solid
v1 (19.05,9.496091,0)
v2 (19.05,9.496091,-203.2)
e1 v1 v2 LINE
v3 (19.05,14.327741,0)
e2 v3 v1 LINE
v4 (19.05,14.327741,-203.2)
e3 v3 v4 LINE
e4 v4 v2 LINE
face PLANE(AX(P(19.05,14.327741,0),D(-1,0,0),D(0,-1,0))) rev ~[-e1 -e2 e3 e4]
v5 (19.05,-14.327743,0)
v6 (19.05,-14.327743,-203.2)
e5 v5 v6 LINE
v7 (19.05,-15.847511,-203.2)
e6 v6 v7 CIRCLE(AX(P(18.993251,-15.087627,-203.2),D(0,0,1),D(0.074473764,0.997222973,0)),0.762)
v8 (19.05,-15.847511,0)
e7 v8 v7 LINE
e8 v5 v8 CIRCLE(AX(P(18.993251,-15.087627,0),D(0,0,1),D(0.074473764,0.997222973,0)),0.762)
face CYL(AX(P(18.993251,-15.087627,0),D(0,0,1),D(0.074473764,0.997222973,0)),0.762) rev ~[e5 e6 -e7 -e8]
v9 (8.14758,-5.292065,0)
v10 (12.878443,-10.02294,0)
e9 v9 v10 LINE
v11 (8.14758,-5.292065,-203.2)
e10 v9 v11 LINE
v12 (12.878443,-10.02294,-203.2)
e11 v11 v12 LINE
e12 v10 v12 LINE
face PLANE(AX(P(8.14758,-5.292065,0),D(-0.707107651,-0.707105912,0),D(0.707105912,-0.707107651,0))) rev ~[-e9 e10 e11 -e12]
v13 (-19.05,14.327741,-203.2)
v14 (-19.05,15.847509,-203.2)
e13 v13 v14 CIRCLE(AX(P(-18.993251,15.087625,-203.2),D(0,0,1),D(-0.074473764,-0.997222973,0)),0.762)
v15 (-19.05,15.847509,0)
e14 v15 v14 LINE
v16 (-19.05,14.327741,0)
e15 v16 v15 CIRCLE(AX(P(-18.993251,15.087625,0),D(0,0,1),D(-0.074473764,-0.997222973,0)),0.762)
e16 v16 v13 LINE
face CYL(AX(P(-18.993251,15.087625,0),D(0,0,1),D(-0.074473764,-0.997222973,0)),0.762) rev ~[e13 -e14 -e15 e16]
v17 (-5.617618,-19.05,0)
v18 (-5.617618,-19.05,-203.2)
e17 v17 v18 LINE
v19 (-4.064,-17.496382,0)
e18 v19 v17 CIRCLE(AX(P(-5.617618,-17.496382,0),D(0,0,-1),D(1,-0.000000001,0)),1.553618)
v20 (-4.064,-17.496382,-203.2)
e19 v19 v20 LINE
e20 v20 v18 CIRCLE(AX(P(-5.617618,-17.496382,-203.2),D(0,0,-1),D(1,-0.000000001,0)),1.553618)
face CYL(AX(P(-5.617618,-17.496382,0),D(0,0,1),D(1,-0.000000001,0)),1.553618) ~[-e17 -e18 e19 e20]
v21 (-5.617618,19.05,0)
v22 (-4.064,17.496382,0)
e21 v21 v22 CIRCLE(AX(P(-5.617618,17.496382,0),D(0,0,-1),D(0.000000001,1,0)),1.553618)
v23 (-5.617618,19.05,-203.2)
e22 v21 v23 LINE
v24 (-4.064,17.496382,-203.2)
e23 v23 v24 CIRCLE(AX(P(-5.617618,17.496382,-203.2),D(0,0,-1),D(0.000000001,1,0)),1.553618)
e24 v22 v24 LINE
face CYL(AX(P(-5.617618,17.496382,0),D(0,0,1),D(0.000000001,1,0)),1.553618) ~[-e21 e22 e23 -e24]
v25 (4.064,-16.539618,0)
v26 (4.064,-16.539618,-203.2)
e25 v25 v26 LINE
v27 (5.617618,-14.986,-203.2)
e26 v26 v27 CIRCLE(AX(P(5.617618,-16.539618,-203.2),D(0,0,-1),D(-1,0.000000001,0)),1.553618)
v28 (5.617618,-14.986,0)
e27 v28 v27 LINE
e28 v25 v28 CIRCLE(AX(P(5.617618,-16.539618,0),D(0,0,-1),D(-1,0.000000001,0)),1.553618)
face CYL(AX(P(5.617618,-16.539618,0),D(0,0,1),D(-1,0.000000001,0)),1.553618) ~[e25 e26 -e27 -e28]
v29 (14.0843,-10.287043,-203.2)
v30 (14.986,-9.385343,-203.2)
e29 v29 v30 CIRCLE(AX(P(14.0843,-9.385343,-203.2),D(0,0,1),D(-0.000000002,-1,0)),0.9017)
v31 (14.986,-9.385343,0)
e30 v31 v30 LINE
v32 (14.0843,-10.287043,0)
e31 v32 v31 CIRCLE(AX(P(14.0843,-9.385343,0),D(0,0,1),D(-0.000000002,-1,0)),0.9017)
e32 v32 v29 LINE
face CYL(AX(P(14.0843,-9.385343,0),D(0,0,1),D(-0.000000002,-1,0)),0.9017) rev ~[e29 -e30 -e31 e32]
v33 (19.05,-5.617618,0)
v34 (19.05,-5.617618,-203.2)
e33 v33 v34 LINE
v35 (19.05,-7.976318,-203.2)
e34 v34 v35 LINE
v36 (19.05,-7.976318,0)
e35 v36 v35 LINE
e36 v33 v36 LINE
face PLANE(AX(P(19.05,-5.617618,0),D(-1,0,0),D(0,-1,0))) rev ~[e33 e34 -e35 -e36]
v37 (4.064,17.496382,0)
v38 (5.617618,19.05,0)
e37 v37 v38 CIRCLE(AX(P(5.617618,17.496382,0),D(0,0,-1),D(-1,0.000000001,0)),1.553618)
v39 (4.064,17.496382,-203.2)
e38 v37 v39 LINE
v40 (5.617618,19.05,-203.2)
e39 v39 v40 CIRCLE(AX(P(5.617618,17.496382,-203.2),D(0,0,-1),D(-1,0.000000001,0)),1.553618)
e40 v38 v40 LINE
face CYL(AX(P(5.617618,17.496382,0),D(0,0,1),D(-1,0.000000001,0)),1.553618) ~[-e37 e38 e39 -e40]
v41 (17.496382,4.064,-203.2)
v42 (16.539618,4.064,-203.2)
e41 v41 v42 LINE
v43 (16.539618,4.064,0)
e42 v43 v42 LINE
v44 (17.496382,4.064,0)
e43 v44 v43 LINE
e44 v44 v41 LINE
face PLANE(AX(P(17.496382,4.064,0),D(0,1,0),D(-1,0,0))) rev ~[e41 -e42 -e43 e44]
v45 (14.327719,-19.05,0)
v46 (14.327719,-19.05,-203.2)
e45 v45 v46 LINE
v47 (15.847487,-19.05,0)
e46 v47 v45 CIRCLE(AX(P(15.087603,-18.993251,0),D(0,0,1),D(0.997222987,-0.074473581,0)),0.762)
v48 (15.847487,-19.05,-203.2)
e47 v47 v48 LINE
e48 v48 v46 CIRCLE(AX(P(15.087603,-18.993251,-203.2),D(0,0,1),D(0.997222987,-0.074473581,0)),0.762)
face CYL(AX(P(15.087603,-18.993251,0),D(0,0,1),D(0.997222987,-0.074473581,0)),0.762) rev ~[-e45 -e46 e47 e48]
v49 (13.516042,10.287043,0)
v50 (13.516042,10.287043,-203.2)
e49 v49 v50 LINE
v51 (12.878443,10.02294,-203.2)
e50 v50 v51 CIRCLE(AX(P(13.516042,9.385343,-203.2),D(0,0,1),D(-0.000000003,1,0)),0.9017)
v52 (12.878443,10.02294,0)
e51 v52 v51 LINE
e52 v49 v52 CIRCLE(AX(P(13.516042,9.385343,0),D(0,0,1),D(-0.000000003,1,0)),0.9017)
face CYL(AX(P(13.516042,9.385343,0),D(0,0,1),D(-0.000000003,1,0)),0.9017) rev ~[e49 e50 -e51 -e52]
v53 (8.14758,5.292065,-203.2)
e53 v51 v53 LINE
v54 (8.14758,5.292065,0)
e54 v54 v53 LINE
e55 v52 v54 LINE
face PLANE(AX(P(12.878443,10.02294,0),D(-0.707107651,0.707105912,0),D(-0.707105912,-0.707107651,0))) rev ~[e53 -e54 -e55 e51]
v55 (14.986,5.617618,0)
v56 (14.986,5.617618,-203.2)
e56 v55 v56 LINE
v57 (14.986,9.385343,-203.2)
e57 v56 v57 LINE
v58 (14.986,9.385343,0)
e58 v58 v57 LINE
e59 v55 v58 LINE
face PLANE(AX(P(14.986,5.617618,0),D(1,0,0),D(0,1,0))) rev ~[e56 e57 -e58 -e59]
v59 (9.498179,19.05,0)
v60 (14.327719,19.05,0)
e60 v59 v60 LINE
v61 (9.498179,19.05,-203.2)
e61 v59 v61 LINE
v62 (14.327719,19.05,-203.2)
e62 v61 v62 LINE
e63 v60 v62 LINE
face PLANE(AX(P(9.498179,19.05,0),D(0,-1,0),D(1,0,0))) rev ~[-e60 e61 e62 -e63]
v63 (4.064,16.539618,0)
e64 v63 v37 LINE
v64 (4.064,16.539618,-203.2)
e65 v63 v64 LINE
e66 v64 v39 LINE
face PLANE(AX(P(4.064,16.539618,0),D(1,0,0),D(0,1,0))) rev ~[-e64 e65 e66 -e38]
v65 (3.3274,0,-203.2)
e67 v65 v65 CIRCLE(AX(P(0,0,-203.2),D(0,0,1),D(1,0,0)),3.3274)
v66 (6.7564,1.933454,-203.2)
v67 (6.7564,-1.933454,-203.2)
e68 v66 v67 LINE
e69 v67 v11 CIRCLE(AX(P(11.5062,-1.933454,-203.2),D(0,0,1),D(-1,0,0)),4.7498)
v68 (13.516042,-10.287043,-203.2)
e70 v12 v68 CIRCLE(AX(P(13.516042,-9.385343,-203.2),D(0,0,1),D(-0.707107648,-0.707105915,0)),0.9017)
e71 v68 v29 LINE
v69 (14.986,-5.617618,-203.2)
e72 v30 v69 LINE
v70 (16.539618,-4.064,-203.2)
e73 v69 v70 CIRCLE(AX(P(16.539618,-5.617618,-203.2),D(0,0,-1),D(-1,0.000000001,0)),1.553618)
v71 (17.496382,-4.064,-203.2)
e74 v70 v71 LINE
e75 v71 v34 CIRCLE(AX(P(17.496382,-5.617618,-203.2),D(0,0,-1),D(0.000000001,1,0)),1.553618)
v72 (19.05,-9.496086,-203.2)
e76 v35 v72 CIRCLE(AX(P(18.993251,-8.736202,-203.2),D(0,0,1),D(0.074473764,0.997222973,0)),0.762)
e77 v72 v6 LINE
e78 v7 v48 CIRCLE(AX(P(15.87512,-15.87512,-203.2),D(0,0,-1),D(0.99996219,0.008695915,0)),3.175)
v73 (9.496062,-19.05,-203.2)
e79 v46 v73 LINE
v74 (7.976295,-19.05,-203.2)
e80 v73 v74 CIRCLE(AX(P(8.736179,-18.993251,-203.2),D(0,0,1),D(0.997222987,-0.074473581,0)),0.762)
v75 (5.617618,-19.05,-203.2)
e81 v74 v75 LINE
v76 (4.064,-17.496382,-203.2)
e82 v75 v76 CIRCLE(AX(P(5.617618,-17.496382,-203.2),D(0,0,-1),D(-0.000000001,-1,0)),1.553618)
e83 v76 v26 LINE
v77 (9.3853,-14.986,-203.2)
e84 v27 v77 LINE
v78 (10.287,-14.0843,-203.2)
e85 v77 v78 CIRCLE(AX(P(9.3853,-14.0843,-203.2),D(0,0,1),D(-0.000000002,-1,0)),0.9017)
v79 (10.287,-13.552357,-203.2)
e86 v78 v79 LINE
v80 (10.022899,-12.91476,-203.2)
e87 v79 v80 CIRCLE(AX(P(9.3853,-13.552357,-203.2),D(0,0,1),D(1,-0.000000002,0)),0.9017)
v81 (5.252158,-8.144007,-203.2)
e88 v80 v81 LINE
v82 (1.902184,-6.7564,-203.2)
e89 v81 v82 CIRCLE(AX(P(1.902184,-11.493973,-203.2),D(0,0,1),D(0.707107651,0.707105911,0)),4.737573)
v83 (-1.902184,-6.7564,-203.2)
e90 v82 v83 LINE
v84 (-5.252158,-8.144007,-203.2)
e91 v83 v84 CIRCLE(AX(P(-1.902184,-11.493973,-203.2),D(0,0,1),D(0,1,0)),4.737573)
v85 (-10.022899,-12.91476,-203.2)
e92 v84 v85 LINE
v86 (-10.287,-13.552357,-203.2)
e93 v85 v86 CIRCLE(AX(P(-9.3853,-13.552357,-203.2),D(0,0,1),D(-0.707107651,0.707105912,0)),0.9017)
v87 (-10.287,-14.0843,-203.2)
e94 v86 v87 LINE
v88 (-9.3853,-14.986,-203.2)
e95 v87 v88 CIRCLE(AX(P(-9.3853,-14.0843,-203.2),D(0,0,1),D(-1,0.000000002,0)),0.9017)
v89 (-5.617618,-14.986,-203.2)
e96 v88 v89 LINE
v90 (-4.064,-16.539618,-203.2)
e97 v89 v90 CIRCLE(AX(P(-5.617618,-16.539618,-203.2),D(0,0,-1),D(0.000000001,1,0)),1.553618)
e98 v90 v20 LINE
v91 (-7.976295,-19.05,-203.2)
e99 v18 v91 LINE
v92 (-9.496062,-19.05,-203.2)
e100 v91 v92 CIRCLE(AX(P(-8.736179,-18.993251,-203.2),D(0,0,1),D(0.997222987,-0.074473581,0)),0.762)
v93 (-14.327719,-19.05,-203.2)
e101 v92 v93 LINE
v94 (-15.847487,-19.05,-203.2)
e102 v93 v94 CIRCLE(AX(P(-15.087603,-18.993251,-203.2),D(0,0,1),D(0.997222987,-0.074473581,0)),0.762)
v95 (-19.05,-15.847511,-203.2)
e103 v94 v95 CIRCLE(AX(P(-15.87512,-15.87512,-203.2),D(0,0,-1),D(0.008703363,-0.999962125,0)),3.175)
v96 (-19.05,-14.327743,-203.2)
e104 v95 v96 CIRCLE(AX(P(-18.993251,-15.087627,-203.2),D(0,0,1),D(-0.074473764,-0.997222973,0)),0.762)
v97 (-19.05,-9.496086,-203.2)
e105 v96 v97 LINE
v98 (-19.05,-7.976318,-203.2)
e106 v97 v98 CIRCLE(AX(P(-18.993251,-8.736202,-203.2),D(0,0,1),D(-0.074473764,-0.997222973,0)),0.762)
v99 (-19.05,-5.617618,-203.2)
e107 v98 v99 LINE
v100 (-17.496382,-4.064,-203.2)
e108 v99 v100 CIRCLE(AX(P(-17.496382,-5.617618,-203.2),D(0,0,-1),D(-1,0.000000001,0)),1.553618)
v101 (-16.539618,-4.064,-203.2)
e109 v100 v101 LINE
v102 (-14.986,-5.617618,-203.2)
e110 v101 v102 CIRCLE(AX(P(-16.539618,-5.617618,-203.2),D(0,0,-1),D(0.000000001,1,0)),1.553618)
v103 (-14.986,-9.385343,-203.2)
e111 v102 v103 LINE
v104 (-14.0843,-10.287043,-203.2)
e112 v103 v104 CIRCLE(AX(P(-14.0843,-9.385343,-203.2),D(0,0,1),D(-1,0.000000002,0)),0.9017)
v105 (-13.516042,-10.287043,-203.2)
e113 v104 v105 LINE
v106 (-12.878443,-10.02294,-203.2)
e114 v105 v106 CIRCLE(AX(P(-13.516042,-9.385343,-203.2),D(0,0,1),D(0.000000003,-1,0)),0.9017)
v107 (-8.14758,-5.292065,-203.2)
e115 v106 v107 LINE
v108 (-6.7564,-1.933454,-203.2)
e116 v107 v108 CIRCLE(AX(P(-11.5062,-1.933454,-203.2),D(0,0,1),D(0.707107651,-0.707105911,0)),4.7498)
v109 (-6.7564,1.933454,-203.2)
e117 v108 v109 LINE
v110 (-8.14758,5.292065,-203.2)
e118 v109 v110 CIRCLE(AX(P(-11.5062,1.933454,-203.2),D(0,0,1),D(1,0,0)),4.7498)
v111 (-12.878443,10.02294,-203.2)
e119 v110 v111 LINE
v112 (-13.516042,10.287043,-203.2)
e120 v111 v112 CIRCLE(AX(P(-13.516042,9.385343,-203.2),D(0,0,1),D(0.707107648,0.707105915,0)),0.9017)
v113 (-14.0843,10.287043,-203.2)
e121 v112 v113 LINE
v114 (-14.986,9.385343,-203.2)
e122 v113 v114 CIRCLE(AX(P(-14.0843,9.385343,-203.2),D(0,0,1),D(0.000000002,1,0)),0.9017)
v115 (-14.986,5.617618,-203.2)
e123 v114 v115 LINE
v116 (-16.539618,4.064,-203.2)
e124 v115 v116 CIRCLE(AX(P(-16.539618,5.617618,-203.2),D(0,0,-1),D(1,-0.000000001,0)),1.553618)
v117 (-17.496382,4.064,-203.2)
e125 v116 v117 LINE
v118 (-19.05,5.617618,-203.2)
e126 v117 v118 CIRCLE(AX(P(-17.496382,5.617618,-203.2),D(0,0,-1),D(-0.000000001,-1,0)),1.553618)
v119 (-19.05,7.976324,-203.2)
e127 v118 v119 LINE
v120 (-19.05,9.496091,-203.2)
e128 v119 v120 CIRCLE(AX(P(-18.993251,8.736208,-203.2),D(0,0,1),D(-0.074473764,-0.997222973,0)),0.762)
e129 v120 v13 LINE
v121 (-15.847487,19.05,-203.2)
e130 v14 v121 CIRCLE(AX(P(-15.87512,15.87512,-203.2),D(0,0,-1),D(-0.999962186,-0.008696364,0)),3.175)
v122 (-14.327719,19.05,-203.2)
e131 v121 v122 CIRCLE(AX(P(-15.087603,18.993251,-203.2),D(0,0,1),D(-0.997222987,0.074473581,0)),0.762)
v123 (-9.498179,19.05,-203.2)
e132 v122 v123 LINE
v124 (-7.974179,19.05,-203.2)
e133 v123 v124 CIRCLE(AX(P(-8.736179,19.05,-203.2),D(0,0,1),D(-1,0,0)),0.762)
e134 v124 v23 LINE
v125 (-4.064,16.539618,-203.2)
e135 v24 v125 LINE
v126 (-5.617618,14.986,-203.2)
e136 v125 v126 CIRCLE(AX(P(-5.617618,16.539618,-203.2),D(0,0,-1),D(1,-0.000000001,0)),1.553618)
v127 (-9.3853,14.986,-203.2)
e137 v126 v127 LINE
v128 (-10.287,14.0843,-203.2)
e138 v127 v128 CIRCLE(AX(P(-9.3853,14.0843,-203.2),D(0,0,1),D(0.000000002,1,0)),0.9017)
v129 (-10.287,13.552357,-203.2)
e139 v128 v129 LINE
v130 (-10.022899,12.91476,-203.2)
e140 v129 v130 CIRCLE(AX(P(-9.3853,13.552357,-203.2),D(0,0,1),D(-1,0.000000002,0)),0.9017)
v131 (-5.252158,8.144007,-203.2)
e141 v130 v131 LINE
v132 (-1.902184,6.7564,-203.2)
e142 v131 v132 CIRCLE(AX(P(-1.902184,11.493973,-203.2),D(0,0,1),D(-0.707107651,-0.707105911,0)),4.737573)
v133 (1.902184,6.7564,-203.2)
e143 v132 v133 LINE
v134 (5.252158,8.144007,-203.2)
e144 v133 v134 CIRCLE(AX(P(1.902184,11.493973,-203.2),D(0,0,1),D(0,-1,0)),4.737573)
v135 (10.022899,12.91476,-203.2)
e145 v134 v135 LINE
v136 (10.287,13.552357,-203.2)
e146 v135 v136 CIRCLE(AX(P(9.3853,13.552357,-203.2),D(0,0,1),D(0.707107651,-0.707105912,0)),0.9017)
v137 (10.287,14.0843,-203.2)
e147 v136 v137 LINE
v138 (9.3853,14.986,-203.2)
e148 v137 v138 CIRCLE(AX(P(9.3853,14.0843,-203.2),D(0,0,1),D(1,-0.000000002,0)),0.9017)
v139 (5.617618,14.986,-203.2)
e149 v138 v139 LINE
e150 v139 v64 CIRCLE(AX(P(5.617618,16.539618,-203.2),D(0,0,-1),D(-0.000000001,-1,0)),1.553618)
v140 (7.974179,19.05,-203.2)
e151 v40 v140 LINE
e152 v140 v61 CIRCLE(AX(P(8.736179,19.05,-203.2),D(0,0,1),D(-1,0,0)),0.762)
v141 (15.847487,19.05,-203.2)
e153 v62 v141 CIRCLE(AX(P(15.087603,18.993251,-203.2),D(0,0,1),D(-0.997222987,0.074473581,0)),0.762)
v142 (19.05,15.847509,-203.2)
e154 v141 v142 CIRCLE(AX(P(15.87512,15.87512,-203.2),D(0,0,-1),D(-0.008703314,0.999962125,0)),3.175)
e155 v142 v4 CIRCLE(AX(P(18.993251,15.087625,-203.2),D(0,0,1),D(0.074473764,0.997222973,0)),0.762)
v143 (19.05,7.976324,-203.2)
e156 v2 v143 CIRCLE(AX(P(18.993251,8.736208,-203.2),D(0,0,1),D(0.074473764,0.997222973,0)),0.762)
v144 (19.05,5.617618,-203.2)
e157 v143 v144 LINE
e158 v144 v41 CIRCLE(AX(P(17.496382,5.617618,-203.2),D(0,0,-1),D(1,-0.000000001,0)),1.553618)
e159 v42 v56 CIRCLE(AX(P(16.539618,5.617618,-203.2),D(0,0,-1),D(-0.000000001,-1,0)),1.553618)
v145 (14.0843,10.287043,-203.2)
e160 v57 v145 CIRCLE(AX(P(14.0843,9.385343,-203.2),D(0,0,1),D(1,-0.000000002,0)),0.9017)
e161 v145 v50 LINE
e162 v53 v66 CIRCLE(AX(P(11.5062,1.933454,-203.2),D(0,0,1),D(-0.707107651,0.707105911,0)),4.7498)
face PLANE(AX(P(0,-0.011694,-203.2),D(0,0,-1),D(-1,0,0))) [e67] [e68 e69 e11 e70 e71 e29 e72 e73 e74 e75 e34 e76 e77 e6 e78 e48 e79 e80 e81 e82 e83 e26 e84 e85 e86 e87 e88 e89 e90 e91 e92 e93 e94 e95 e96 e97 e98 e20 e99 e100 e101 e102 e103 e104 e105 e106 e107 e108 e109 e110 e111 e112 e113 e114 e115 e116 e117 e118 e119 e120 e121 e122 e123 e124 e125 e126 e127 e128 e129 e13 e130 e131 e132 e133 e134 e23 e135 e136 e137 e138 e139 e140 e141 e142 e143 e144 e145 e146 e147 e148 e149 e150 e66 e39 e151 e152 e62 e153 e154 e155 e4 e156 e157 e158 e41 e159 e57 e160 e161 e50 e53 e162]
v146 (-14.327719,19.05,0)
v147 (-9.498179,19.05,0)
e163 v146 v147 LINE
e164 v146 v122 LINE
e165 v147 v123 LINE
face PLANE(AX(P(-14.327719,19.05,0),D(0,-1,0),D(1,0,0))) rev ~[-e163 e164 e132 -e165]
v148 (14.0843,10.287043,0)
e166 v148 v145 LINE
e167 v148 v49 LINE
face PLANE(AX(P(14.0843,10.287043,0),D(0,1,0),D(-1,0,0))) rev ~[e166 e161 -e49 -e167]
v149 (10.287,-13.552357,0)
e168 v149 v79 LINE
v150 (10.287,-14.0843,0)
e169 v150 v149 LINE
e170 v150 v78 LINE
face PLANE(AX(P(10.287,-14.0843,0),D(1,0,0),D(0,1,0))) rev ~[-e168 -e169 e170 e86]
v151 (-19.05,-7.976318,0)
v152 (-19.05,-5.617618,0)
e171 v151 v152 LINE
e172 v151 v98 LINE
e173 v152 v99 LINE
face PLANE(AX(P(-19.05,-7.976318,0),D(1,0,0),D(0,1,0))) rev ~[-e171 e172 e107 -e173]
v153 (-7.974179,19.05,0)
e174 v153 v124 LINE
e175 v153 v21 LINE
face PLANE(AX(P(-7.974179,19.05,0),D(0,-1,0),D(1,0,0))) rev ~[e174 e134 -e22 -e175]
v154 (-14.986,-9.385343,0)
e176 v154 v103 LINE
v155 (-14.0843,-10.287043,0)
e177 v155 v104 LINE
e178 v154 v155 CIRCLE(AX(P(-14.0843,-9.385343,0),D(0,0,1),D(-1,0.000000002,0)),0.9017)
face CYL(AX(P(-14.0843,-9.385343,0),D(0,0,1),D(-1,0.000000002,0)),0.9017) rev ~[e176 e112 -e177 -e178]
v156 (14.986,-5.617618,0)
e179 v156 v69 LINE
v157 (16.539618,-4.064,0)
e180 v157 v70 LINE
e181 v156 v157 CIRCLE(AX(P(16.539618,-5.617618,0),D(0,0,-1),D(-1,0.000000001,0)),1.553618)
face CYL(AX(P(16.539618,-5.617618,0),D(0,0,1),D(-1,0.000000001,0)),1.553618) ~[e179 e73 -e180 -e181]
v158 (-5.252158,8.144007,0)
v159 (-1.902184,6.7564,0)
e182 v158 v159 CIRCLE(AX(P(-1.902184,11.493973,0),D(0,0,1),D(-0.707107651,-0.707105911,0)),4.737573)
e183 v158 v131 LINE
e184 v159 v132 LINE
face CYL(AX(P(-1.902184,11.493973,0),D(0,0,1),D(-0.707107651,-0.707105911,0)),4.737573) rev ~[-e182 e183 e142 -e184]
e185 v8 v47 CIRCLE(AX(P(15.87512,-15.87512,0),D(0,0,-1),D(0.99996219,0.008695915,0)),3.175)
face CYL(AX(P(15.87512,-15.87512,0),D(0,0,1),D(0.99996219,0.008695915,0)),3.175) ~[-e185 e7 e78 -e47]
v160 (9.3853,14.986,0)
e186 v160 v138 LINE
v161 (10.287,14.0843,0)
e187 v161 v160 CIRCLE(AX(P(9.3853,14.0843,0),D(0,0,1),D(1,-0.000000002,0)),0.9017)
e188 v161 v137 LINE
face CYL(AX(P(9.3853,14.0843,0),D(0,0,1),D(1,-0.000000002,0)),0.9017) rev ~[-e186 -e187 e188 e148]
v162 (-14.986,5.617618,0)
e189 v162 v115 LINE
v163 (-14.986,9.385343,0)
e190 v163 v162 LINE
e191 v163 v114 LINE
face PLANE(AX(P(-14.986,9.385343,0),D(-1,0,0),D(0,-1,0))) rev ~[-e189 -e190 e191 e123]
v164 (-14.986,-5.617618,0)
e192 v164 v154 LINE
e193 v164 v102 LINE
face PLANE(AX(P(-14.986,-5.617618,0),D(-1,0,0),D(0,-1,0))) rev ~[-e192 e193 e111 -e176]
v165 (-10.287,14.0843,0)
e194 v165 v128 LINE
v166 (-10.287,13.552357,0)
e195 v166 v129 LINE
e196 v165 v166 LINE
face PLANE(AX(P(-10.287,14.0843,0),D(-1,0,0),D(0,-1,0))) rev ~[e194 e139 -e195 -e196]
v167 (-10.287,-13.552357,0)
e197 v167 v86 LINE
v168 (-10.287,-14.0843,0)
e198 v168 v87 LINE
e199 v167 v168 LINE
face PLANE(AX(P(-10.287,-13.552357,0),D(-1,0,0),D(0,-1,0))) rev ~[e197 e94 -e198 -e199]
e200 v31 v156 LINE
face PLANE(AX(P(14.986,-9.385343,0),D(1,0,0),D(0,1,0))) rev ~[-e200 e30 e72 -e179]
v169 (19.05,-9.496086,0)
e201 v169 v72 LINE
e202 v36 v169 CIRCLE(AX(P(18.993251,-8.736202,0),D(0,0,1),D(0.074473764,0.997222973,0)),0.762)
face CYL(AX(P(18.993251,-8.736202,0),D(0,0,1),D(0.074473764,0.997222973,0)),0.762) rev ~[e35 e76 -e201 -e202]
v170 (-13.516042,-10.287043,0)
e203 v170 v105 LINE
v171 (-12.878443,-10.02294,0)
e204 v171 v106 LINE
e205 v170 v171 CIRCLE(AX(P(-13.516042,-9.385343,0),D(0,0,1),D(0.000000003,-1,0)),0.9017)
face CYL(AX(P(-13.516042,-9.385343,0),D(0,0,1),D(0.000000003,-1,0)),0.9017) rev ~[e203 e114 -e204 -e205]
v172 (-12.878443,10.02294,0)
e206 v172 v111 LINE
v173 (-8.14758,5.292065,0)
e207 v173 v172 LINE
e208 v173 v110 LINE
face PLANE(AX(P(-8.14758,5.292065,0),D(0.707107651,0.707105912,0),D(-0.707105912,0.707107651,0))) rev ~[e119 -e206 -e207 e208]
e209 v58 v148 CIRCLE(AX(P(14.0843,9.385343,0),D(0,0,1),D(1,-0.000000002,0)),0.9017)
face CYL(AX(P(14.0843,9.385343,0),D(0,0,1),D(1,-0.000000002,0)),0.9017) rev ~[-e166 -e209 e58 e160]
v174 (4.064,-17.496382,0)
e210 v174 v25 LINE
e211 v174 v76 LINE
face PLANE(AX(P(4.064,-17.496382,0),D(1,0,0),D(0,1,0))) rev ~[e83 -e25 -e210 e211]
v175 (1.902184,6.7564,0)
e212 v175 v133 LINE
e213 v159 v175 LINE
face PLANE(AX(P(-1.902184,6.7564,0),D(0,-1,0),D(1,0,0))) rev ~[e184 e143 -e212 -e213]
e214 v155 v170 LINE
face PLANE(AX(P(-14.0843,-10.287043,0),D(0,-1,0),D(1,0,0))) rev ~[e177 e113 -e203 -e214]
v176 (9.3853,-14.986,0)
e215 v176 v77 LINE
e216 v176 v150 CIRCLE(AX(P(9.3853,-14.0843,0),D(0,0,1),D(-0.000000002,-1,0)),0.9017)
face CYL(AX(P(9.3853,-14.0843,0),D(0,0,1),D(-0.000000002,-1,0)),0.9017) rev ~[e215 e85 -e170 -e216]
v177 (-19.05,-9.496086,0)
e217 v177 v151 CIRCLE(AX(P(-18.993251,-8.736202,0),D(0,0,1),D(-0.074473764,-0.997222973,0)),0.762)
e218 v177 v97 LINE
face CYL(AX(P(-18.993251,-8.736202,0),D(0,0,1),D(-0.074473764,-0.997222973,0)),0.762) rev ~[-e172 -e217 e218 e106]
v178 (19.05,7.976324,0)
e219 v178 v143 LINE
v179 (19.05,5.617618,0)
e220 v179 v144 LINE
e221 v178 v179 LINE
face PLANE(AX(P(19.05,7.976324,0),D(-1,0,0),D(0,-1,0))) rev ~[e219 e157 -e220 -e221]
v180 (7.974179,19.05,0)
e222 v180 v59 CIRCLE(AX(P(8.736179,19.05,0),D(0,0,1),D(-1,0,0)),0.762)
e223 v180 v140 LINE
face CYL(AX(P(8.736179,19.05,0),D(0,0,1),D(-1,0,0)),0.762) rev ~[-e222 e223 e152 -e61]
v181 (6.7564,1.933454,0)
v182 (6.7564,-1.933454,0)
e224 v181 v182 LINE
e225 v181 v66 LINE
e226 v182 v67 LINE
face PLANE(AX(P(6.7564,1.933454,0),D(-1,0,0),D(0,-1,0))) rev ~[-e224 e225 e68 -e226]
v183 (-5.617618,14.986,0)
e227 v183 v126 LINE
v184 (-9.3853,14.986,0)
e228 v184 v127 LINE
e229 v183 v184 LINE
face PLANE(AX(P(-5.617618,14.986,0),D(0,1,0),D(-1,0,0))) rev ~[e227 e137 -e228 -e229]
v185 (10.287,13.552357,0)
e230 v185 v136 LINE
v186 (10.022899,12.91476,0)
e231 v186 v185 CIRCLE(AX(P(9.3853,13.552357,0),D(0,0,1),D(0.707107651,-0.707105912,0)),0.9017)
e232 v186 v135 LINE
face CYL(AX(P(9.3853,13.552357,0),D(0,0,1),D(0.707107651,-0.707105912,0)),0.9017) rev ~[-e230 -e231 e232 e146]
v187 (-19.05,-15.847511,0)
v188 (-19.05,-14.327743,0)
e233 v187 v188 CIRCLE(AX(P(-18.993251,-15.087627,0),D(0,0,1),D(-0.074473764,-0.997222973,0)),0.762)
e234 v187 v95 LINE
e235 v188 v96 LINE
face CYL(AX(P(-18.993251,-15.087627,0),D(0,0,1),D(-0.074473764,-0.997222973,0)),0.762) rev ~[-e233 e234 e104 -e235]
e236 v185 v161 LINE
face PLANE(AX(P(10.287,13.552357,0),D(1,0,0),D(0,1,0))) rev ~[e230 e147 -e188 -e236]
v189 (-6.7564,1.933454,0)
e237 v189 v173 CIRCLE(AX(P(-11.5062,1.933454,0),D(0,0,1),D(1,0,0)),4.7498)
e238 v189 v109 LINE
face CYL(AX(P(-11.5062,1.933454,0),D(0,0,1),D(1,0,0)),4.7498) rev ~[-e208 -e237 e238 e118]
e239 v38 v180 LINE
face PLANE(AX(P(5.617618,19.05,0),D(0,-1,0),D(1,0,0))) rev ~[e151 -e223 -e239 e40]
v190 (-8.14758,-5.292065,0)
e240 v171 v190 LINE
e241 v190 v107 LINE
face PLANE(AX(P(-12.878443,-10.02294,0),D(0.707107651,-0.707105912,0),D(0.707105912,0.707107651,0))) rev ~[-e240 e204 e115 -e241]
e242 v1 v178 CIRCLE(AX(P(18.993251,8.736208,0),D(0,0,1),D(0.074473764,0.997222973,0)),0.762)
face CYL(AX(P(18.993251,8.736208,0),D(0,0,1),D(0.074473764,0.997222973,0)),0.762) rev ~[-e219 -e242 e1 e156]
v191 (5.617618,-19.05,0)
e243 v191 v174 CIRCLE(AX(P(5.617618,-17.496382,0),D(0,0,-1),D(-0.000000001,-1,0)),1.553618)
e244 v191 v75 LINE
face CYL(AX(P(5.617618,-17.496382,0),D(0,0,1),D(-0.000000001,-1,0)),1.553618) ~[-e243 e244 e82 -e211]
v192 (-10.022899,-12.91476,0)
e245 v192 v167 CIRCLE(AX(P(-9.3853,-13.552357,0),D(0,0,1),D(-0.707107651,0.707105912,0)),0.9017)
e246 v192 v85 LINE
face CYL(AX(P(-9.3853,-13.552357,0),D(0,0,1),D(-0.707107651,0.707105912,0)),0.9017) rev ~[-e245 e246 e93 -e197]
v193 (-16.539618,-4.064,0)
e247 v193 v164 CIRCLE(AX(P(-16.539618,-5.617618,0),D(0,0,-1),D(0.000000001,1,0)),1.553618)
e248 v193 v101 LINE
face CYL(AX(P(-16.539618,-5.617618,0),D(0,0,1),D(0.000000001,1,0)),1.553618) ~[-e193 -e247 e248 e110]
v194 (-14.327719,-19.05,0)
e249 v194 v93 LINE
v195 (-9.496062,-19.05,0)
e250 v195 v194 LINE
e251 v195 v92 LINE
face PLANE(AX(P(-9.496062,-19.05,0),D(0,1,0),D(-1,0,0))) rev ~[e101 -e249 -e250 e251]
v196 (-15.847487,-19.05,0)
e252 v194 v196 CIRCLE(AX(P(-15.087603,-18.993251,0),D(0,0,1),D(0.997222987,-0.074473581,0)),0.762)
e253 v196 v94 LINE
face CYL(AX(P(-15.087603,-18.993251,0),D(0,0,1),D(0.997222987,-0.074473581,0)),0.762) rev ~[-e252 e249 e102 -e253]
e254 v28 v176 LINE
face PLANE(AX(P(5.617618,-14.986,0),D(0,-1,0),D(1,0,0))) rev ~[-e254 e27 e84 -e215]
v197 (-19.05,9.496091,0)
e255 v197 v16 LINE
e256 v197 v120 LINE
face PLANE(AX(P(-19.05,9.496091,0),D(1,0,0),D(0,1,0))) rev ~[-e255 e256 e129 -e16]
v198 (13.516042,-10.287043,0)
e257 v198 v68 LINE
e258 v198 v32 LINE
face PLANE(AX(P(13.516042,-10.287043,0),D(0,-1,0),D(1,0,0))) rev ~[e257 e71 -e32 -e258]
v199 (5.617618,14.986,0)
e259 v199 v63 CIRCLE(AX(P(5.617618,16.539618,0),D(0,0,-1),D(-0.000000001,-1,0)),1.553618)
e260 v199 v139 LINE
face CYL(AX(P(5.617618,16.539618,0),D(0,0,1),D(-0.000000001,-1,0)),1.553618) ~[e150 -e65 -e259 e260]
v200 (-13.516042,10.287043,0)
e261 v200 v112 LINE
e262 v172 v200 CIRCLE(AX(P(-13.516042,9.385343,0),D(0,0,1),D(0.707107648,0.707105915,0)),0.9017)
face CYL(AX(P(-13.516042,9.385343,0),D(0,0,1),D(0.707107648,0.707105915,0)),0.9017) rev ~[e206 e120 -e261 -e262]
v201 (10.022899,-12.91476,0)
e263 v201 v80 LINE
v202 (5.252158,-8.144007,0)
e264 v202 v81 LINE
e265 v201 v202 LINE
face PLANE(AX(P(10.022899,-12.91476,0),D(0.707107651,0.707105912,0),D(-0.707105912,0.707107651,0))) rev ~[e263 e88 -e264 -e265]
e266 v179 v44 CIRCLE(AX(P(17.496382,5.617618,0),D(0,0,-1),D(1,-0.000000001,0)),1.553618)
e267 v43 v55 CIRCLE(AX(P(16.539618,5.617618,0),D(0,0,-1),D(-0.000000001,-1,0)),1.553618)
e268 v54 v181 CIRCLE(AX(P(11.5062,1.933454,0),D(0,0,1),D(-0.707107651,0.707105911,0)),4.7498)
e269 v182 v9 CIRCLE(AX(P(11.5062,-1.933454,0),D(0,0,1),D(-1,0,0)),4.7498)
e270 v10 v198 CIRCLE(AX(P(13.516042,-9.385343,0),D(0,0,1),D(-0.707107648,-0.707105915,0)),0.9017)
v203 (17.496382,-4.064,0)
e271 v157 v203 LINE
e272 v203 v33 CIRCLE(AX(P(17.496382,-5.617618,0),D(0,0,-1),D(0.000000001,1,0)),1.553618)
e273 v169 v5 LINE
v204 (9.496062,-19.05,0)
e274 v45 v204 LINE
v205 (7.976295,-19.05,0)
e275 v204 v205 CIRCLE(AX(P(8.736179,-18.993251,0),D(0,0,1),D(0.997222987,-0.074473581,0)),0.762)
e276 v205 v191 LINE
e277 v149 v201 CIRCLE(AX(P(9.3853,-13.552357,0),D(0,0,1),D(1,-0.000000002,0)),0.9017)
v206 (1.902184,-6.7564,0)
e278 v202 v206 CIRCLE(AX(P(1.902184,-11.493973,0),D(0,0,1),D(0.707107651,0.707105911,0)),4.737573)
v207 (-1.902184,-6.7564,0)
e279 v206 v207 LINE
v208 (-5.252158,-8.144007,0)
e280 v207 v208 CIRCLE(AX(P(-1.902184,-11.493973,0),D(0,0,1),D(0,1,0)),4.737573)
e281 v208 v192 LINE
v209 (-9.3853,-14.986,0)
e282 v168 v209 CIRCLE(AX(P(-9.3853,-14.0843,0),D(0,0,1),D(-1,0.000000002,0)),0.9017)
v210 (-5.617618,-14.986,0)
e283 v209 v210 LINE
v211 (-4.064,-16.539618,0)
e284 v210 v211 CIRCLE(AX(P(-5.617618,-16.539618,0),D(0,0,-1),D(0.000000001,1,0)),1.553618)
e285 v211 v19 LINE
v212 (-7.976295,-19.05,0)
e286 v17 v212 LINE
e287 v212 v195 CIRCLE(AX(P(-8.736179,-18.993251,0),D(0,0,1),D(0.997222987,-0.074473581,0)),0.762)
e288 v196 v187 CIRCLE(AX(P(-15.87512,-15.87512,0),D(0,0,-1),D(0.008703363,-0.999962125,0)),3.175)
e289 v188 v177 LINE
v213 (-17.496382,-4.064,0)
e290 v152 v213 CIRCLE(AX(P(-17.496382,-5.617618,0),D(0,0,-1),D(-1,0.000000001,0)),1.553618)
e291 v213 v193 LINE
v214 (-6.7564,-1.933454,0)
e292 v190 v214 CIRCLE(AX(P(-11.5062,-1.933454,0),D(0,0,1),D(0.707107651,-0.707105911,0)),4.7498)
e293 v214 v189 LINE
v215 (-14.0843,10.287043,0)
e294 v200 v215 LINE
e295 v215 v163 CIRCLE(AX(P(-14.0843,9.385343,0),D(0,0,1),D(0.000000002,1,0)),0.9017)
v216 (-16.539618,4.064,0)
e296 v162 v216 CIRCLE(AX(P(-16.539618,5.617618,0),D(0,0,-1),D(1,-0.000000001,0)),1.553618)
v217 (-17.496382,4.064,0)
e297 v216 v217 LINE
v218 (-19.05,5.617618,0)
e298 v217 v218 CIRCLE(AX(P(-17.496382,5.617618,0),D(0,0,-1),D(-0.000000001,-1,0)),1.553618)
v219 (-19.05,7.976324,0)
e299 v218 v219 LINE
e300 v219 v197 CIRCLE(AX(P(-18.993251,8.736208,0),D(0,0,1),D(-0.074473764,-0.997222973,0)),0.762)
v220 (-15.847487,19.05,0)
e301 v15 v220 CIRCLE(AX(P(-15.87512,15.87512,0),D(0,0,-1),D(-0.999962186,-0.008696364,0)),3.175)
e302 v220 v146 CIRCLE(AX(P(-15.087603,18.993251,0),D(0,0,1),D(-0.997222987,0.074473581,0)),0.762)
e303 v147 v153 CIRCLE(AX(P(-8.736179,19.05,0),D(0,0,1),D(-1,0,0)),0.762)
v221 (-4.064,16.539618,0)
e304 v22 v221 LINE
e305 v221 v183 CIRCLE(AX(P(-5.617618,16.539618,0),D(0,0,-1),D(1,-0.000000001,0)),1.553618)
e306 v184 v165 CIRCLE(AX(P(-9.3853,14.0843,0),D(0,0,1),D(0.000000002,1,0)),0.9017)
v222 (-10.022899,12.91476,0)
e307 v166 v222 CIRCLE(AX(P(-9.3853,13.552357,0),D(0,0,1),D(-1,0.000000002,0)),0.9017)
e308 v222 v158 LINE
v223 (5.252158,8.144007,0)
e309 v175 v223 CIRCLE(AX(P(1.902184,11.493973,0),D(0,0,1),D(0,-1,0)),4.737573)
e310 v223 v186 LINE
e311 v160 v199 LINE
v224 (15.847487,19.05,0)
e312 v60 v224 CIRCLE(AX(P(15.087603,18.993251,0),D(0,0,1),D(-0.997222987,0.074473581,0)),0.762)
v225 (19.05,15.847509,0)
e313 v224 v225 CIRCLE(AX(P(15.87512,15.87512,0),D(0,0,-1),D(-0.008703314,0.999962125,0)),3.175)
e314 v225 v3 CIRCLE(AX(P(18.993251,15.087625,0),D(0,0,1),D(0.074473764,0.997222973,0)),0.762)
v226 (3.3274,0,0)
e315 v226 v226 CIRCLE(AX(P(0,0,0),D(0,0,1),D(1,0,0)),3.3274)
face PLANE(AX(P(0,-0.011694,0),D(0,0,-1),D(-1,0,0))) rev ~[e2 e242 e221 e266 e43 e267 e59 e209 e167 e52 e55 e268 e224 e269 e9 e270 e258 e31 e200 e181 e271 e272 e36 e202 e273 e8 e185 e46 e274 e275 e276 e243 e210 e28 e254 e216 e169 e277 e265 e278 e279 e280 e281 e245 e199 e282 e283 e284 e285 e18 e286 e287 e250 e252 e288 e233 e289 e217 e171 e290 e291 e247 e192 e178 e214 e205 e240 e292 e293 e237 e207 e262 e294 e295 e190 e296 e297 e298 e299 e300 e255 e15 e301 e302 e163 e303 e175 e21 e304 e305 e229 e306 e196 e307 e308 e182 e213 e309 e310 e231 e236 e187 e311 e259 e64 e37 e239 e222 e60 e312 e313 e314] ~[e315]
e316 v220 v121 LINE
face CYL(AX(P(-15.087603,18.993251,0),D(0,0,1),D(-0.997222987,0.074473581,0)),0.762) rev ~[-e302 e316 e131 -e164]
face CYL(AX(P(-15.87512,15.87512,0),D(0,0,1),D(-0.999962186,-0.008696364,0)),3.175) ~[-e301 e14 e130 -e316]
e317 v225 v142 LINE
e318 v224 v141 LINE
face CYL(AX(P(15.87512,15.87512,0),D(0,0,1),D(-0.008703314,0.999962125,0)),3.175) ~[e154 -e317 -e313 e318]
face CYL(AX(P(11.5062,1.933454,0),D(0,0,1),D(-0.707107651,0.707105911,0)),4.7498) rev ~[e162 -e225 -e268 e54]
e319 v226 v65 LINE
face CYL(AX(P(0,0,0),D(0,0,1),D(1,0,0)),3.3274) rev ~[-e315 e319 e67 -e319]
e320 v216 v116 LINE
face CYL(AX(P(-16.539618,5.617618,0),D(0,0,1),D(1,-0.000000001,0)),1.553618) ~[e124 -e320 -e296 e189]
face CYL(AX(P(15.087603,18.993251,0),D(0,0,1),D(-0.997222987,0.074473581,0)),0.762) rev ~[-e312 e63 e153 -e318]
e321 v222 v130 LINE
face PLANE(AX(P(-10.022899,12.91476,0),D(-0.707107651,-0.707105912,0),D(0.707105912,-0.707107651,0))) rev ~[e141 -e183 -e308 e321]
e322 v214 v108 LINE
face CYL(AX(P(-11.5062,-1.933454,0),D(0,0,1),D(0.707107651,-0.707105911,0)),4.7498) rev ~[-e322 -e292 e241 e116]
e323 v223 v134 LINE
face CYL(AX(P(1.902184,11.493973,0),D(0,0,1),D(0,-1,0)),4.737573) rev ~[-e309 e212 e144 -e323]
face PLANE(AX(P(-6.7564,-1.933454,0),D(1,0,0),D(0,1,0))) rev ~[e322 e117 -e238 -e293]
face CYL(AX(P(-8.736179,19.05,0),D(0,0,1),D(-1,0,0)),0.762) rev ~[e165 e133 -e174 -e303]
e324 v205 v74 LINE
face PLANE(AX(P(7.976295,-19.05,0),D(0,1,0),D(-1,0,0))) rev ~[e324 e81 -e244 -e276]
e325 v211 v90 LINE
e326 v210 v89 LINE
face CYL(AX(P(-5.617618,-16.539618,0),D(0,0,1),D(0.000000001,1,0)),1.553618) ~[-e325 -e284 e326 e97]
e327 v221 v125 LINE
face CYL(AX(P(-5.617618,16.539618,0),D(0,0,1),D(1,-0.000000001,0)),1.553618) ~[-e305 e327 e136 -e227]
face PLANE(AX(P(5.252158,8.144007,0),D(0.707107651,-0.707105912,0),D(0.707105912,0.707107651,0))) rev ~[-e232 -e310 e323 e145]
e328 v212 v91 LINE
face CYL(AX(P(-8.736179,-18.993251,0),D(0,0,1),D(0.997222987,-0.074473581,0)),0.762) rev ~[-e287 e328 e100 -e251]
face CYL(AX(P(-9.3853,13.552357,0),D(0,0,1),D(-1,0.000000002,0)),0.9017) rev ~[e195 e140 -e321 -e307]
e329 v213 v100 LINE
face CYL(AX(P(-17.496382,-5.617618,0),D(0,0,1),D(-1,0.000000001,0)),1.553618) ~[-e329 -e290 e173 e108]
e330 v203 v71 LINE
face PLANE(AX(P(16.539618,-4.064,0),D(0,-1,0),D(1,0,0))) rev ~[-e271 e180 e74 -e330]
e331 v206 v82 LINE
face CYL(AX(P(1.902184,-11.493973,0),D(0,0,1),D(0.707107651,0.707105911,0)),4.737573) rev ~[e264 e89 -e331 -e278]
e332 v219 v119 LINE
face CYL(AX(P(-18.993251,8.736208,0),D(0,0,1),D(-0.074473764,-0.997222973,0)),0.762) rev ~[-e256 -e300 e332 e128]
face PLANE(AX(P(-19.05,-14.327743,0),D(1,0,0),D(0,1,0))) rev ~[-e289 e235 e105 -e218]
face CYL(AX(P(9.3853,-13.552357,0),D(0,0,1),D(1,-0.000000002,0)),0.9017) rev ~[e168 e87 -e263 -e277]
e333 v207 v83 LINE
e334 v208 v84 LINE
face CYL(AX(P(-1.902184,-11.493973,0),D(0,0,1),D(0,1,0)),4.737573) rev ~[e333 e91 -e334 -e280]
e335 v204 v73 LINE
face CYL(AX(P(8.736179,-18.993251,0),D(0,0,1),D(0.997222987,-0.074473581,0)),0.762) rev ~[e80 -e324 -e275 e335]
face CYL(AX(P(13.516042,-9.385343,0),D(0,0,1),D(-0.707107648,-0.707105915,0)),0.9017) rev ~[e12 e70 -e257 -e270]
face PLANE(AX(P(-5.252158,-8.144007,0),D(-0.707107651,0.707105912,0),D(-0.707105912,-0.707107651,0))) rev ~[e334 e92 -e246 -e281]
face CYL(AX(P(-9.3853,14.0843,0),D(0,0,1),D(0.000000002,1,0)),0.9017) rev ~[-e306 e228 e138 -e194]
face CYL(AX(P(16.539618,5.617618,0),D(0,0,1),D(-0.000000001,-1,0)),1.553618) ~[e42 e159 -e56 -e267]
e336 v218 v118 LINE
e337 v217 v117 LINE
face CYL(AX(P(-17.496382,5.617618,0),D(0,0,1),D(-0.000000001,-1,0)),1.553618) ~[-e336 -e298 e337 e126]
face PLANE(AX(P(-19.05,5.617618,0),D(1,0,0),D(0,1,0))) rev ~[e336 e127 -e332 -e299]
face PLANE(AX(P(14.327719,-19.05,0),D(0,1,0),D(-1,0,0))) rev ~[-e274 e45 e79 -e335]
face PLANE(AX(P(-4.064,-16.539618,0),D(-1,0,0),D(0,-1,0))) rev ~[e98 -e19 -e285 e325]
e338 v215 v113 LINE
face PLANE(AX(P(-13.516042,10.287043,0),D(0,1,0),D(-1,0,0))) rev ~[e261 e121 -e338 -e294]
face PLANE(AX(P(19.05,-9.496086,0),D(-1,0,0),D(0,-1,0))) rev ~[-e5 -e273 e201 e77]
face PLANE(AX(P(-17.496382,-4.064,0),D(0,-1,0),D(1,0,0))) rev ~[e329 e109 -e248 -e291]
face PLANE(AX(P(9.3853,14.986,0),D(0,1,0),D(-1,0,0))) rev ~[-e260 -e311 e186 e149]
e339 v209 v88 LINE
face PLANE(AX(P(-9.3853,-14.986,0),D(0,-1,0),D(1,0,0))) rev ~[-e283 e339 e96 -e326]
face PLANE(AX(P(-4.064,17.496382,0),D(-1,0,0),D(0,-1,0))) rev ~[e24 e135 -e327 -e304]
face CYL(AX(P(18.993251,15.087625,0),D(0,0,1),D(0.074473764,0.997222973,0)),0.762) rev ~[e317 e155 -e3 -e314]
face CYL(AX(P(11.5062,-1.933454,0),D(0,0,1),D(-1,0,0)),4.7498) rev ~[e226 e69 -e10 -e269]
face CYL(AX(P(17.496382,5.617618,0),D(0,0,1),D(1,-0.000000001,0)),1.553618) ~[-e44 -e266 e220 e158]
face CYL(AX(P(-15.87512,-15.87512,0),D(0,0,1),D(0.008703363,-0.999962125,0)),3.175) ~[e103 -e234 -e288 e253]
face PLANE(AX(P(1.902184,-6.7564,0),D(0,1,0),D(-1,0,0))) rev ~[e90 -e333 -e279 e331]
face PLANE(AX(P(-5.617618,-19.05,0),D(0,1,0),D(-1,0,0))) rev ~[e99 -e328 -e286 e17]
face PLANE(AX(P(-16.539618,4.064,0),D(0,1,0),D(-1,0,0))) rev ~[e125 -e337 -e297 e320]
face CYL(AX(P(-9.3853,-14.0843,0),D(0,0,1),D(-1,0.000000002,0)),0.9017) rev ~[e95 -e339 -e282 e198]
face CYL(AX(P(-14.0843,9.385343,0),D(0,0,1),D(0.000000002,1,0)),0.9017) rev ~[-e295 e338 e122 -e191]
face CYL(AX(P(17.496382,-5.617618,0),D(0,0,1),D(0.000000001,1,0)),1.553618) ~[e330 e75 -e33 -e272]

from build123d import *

# Parameters (mm, degrees)
SKETCH1_R      = 3.3274
EXTRUDE1_DEPTH = 203.2


with BuildPart() as part:
    # Sketch1 → Extrude1 (new body)
    with BuildSketch(Plane.XY):
        with BuildLine():
            Line((-10.022898969, 12.91475973), (-5.252158105, 8.144007132))
            ThreePointArc((-5.252158105, 8.144007132), (-3.715177372, 7.117027388), (-1.902183975, 6.7564))
            Line((-1.902183975, 6.7564), (1.902183975, 6.7564))
            ThreePointArc((1.902183975, 6.7564), (3.715177372, 7.117027388), (5.252158105, 8.144007132))
            Line((5.252158105, 8.144007132), (10.022898969, 12.91475973))
            ThreePointArc((10.022898969, 12.91475973), (10.218362387, 13.207291992), (10.287, 13.552357131))
            Line((10.287, 13.552357131), (10.287, 14.0843))
            ThreePointArc((10.287, 14.0843), (10.022898185, 14.721898185), (9.3853, 14.986))
            Line((9.3853, 14.986), (5.617617549, 14.986))
            ThreePointArc((5.617617549, 14.986), (4.519044045, 15.441044045), (4.064, 16.539617549))
            Line((4.064, 16.539617549), (4.064, 17.496382451))
            ThreePointArc((4.064, 17.496382451), (4.519044045, 18.594955955), (5.617617549, 19.05))
            Line((5.617617549, 19.05), (7.974178704, 19.05))
            ThreePointArc((7.974178704, 19.05), (8.736178704, 18.288), (9.498178704, 19.05))
            Line((9.498178704, 19.05), (14.327719207, 19.05))
            ThreePointArc((14.327719207, 19.05), (15.087603123, 18.231251131), (15.847487039, 19.05))
            ThreePointArc((15.847487039, 19.05), (18.120176289, 18.120192083), (19.05, 15.847509295))
            ThreePointArc((19.05, 15.847509295), (18.231250992, 15.08762539), (19.05, 14.327741484))
            Line((19.05, 14.327741484), (19.05, 9.496091471))
            ThreePointArc((19.05, 9.496091471), (18.231250992, 8.736207565), (19.05, 7.97632366))
            Line((19.05, 7.97632366), (19.05, 5.617617549))
            ThreePointArc((19.05, 5.617617549), (18.594955955, 4.519044045), (17.496382451, 4.064))
            Line((17.496382451, 4.064), (16.539617549, 4.064))
            ThreePointArc((16.539617549, 4.064), (15.441044045, 4.519044045), (14.986, 5.617617549))
            Line((14.986, 5.617617549), (14.986, 9.385342516))
            ThreePointArc((14.986, 9.385342516), (14.721898185, 10.022940701), (14.0843, 10.287042516))
            Line((14.0843, 10.287042516), (13.516042086, 10.287042516))
            ThreePointArc((13.516042086, 10.287042516), (13.170975923, 10.218404478), (12.878443117, 10.022939917))
            Line((12.878443117, 10.022939917), (8.14758008, 5.292065243))
            ThreePointArc((8.14758008, 5.292065243), (7.117955879, 3.751120653), (6.7564, 1.933453584))
            Line((6.7564, 1.933453584), (6.7564, -1.933453584))
            ThreePointArc((6.7564, -1.933453584), (7.117955879, -3.751120653), (8.14758008, -5.292065243))
            Line((8.14758008, -5.292065243), (12.878443117, -10.022939917))
            ThreePointArc((12.878443117, -10.022939917), (13.170975923, -10.218404478), (13.516042086, -10.287042516))
            Line((13.516042086, -10.287042516), (14.0843, -10.287042516))
            ThreePointArc((14.0843, -10.287042516), (14.721898185, -10.022940701), (14.986, -9.385342516))
            Line((14.986, -9.385342516), (14.986, -5.617617549))
            ThreePointArc((14.986, -5.617617549), (15.441044045, -4.519044045), (16.539617549, -4.064))
            Line((16.539617549, -4.064), (17.496382451, -4.064))
            ThreePointArc((17.496382451, -4.064), (18.594955955, -4.519044045), (19.05, -5.617617549))
            Line((19.05, -5.617617549), (19.05, -7.976318491))
            ThreePointArc((19.05, -7.976318491), (18.231250992, -8.736202396), (19.05, -9.496086302))
            Line((19.05, -9.496086302), (19.05, -14.32774291))
            ThreePointArc((19.05, -14.32774291), (18.231250992, -15.087626816), (19.05, -15.847510721))
            ThreePointArc((19.05, -15.847510721), (18.120175716, -18.120192644), (15.847486868, -19.05))
            ThreePointArc((15.847486868, -19.05), (15.087602952, -18.231251131), (14.327719036, -19.05))
            Line((14.327719036, -19.05), (9.496062448, -19.05))
            ThreePointArc((9.496062448, -19.05), (8.736178532, -18.231251131), (7.976294616, -19.05))
            Line((7.976294616, -19.05), (5.617617549, -19.05))
            ThreePointArc((5.617617549, -19.05), (4.519044045, -18.594955955), (4.064, -17.496382451))
            Line((4.064, -17.496382451), (4.064, -16.539617549))
            ThreePointArc((4.064, -16.539617549), (4.519044045, -15.441044045), (5.617617549, -14.986))
            Line((5.617617549, -14.986), (9.3853, -14.986))
            ThreePointArc((9.3853, -14.986), (10.022898185, -14.721898185), (10.287, -14.0843))
            Line((10.287, -14.0843), (10.287, -13.552357131))
            ThreePointArc((10.287, -13.552357131), (10.218362387, -13.207291992), (10.022898969, -12.91475973))
            Line((10.022898969, -12.91475973), (5.252158105, -8.144007132))
            ThreePointArc((5.252158105, -8.144007132), (3.715177372, -7.117027388), (1.902183975, -6.7564))
            Line((1.902183975, -6.7564), (-1.902183975, -6.7564))
            ThreePointArc((-1.902183975, -6.7564), (-3.715177372, -7.117027388), (-5.252158105, -8.144007132))
            Line((-5.252158105, -8.144007132), (-10.022898969, -12.91475973))
            ThreePointArc((-10.022898969, -12.91475973), (-10.218362387, -13.207291992), (-10.287, -13.552357131))
            Line((-10.287, -13.552357131), (-10.287, -14.0843))
            ThreePointArc((-10.287, -14.0843), (-10.022898185, -14.721898185), (-9.3853, -14.986))
            Line((-9.3853, -14.986), (-5.617617549, -14.986))
            ThreePointArc((-5.617617549, -14.986), (-4.519044045, -15.441044045), (-4.064, -16.539617549))
            Line((-4.064, -16.539617549), (-4.064, -17.496382451))
            ThreePointArc((-4.064, -17.496382451), (-4.519044045, -18.594955955), (-5.617617549, -19.05))
            Line((-5.617617549, -19.05), (-7.976294616, -19.05))
            ThreePointArc((-7.976294616, -19.05), (-8.736178532, -18.231251131), (-9.496062448, -19.05))
            Line((-9.496062448, -19.05), (-14.327719036, -19.05))
            ThreePointArc((-14.327719036, -19.05), (-15.087602952, -18.231251131), (-15.847486868, -19.05))
            ThreePointArc((-15.847486868, -19.05), (-18.120175716, -18.120192644), (-19.05, -15.847510721))
            ThreePointArc((-19.05, -15.847510721), (-18.231250992, -15.087626816), (-19.05, -14.32774291))
            Line((-19.05, -14.32774291), (-19.05, -9.496086302))
            ThreePointArc((-19.05, -9.496086302), (-18.231250992, -8.736202396), (-19.05, -7.976318491))
            Line((-19.05, -7.976318491), (-19.05, -5.617617549))
            ThreePointArc((-19.05, -5.617617549), (-18.594955955, -4.519044045), (-17.496382451, -4.064))
            Line((-17.496382451, -4.064), (-16.539617549, -4.064))
            ThreePointArc((-16.539617549, -4.064), (-15.441044045, -4.519044045), (-14.986, -5.617617549))
            Line((-14.986, -5.617617549), (-14.986, -9.385342516))
            ThreePointArc((-14.986, -9.385342516), (-14.721898185, -10.022940701), (-14.0843, -10.287042516))
            Line((-14.0843, -10.287042516), (-13.516042086, -10.287042516))
            ThreePointArc((-13.516042086, -10.287042516), (-13.170975923, -10.218404478), (-12.878443117, -10.022939917))
            Line((-12.878443117, -10.022939917), (-8.14758008, -5.292065243))
            ThreePointArc((-8.14758008, -5.292065243), (-7.117955879, -3.751120653), (-6.7564, -1.933453584))
            Line((-6.7564, -1.933453584), (-6.7564, 1.933453584))
            ThreePointArc((-6.7564, 1.933453584), (-7.117955879, 3.751120653), (-8.14758008, 5.292065243))
            Line((-8.14758008, 5.292065243), (-12.878443117, 10.022939917))
            ThreePointArc((-12.878443117, 10.022939917), (-13.170975923, 10.218404478), (-13.516042086, 10.287042516))
            Line((-13.516042086, 10.287042516), (-14.0843, 10.287042516))
            ThreePointArc((-14.0843, 10.287042516), (-14.721898185, 10.022940701), (-14.986, 9.385342516))
            Line((-14.986, 9.385342516), (-14.986, 5.617617549))
            ThreePointArc((-14.986, 5.617617549), (-15.441044045, 4.519044045), (-16.539617549, 4.064))
            Line((-16.539617549, 4.064), (-17.496382451, 4.064))
            ThreePointArc((-17.496382451, 4.064), (-18.594955955, 4.519044045), (-19.05, 5.617617549))
            Line((-19.05, 5.617617549), (-19.05, 7.97632366))
            ThreePointArc((-19.05, 7.97632366), (-18.231250992, 8.736207565), (-19.05, 9.496091471))
            Line((-19.05, 9.496091471), (-19.05, 14.327741484))
            ThreePointArc((-19.05, 14.327741484), (-18.231250992, 15.08762539), (-19.05, 15.847509295))
            ThreePointArc((-19.05, 15.847509295), (-18.120176289, 18.120192083), (-15.847487039, 19.05))
            ThreePointArc((-15.847487039, 19.05), (-15.087603123, 18.231251131), (-14.327719207, 19.05))
            Line((-14.327719207, 19.05), (-9.498178704, 19.05))
            ThreePointArc((-9.498178704, 19.05), (-8.736178704, 18.288), (-7.974178704, 19.05))
            Line((-7.974178704, 19.05), (-5.617617549, 19.05))
            ThreePointArc((-5.617617549, 19.05), (-4.519044045, 18.594955955), (-4.064, 17.496382451))
            Line((-4.064, 17.496382451), (-4.064, 16.539617549))
            ThreePointArc((-4.064, 16.539617549), (-4.519044045, 15.441044045), (-5.617617549, 14.986))
            Line((-5.617617549, 14.986), (-9.3853, 14.986))
            ThreePointArc((-9.3853, 14.986), (-10.022898185, 14.721898185), (-10.287, 14.0843))
            Line((-10.287, 14.0843), (-10.287, 13.552357131))
            ThreePointArc((-10.287, 13.552357131), (-10.218362387, 13.207291992), (-10.022898969, 12.91475973))
        make_face()
        Circle(SKETCH1_R, mode=Mode.SUBTRACT)
    extrude(amount=-EXTRUDE1_DEPTH)


solid = part.part
